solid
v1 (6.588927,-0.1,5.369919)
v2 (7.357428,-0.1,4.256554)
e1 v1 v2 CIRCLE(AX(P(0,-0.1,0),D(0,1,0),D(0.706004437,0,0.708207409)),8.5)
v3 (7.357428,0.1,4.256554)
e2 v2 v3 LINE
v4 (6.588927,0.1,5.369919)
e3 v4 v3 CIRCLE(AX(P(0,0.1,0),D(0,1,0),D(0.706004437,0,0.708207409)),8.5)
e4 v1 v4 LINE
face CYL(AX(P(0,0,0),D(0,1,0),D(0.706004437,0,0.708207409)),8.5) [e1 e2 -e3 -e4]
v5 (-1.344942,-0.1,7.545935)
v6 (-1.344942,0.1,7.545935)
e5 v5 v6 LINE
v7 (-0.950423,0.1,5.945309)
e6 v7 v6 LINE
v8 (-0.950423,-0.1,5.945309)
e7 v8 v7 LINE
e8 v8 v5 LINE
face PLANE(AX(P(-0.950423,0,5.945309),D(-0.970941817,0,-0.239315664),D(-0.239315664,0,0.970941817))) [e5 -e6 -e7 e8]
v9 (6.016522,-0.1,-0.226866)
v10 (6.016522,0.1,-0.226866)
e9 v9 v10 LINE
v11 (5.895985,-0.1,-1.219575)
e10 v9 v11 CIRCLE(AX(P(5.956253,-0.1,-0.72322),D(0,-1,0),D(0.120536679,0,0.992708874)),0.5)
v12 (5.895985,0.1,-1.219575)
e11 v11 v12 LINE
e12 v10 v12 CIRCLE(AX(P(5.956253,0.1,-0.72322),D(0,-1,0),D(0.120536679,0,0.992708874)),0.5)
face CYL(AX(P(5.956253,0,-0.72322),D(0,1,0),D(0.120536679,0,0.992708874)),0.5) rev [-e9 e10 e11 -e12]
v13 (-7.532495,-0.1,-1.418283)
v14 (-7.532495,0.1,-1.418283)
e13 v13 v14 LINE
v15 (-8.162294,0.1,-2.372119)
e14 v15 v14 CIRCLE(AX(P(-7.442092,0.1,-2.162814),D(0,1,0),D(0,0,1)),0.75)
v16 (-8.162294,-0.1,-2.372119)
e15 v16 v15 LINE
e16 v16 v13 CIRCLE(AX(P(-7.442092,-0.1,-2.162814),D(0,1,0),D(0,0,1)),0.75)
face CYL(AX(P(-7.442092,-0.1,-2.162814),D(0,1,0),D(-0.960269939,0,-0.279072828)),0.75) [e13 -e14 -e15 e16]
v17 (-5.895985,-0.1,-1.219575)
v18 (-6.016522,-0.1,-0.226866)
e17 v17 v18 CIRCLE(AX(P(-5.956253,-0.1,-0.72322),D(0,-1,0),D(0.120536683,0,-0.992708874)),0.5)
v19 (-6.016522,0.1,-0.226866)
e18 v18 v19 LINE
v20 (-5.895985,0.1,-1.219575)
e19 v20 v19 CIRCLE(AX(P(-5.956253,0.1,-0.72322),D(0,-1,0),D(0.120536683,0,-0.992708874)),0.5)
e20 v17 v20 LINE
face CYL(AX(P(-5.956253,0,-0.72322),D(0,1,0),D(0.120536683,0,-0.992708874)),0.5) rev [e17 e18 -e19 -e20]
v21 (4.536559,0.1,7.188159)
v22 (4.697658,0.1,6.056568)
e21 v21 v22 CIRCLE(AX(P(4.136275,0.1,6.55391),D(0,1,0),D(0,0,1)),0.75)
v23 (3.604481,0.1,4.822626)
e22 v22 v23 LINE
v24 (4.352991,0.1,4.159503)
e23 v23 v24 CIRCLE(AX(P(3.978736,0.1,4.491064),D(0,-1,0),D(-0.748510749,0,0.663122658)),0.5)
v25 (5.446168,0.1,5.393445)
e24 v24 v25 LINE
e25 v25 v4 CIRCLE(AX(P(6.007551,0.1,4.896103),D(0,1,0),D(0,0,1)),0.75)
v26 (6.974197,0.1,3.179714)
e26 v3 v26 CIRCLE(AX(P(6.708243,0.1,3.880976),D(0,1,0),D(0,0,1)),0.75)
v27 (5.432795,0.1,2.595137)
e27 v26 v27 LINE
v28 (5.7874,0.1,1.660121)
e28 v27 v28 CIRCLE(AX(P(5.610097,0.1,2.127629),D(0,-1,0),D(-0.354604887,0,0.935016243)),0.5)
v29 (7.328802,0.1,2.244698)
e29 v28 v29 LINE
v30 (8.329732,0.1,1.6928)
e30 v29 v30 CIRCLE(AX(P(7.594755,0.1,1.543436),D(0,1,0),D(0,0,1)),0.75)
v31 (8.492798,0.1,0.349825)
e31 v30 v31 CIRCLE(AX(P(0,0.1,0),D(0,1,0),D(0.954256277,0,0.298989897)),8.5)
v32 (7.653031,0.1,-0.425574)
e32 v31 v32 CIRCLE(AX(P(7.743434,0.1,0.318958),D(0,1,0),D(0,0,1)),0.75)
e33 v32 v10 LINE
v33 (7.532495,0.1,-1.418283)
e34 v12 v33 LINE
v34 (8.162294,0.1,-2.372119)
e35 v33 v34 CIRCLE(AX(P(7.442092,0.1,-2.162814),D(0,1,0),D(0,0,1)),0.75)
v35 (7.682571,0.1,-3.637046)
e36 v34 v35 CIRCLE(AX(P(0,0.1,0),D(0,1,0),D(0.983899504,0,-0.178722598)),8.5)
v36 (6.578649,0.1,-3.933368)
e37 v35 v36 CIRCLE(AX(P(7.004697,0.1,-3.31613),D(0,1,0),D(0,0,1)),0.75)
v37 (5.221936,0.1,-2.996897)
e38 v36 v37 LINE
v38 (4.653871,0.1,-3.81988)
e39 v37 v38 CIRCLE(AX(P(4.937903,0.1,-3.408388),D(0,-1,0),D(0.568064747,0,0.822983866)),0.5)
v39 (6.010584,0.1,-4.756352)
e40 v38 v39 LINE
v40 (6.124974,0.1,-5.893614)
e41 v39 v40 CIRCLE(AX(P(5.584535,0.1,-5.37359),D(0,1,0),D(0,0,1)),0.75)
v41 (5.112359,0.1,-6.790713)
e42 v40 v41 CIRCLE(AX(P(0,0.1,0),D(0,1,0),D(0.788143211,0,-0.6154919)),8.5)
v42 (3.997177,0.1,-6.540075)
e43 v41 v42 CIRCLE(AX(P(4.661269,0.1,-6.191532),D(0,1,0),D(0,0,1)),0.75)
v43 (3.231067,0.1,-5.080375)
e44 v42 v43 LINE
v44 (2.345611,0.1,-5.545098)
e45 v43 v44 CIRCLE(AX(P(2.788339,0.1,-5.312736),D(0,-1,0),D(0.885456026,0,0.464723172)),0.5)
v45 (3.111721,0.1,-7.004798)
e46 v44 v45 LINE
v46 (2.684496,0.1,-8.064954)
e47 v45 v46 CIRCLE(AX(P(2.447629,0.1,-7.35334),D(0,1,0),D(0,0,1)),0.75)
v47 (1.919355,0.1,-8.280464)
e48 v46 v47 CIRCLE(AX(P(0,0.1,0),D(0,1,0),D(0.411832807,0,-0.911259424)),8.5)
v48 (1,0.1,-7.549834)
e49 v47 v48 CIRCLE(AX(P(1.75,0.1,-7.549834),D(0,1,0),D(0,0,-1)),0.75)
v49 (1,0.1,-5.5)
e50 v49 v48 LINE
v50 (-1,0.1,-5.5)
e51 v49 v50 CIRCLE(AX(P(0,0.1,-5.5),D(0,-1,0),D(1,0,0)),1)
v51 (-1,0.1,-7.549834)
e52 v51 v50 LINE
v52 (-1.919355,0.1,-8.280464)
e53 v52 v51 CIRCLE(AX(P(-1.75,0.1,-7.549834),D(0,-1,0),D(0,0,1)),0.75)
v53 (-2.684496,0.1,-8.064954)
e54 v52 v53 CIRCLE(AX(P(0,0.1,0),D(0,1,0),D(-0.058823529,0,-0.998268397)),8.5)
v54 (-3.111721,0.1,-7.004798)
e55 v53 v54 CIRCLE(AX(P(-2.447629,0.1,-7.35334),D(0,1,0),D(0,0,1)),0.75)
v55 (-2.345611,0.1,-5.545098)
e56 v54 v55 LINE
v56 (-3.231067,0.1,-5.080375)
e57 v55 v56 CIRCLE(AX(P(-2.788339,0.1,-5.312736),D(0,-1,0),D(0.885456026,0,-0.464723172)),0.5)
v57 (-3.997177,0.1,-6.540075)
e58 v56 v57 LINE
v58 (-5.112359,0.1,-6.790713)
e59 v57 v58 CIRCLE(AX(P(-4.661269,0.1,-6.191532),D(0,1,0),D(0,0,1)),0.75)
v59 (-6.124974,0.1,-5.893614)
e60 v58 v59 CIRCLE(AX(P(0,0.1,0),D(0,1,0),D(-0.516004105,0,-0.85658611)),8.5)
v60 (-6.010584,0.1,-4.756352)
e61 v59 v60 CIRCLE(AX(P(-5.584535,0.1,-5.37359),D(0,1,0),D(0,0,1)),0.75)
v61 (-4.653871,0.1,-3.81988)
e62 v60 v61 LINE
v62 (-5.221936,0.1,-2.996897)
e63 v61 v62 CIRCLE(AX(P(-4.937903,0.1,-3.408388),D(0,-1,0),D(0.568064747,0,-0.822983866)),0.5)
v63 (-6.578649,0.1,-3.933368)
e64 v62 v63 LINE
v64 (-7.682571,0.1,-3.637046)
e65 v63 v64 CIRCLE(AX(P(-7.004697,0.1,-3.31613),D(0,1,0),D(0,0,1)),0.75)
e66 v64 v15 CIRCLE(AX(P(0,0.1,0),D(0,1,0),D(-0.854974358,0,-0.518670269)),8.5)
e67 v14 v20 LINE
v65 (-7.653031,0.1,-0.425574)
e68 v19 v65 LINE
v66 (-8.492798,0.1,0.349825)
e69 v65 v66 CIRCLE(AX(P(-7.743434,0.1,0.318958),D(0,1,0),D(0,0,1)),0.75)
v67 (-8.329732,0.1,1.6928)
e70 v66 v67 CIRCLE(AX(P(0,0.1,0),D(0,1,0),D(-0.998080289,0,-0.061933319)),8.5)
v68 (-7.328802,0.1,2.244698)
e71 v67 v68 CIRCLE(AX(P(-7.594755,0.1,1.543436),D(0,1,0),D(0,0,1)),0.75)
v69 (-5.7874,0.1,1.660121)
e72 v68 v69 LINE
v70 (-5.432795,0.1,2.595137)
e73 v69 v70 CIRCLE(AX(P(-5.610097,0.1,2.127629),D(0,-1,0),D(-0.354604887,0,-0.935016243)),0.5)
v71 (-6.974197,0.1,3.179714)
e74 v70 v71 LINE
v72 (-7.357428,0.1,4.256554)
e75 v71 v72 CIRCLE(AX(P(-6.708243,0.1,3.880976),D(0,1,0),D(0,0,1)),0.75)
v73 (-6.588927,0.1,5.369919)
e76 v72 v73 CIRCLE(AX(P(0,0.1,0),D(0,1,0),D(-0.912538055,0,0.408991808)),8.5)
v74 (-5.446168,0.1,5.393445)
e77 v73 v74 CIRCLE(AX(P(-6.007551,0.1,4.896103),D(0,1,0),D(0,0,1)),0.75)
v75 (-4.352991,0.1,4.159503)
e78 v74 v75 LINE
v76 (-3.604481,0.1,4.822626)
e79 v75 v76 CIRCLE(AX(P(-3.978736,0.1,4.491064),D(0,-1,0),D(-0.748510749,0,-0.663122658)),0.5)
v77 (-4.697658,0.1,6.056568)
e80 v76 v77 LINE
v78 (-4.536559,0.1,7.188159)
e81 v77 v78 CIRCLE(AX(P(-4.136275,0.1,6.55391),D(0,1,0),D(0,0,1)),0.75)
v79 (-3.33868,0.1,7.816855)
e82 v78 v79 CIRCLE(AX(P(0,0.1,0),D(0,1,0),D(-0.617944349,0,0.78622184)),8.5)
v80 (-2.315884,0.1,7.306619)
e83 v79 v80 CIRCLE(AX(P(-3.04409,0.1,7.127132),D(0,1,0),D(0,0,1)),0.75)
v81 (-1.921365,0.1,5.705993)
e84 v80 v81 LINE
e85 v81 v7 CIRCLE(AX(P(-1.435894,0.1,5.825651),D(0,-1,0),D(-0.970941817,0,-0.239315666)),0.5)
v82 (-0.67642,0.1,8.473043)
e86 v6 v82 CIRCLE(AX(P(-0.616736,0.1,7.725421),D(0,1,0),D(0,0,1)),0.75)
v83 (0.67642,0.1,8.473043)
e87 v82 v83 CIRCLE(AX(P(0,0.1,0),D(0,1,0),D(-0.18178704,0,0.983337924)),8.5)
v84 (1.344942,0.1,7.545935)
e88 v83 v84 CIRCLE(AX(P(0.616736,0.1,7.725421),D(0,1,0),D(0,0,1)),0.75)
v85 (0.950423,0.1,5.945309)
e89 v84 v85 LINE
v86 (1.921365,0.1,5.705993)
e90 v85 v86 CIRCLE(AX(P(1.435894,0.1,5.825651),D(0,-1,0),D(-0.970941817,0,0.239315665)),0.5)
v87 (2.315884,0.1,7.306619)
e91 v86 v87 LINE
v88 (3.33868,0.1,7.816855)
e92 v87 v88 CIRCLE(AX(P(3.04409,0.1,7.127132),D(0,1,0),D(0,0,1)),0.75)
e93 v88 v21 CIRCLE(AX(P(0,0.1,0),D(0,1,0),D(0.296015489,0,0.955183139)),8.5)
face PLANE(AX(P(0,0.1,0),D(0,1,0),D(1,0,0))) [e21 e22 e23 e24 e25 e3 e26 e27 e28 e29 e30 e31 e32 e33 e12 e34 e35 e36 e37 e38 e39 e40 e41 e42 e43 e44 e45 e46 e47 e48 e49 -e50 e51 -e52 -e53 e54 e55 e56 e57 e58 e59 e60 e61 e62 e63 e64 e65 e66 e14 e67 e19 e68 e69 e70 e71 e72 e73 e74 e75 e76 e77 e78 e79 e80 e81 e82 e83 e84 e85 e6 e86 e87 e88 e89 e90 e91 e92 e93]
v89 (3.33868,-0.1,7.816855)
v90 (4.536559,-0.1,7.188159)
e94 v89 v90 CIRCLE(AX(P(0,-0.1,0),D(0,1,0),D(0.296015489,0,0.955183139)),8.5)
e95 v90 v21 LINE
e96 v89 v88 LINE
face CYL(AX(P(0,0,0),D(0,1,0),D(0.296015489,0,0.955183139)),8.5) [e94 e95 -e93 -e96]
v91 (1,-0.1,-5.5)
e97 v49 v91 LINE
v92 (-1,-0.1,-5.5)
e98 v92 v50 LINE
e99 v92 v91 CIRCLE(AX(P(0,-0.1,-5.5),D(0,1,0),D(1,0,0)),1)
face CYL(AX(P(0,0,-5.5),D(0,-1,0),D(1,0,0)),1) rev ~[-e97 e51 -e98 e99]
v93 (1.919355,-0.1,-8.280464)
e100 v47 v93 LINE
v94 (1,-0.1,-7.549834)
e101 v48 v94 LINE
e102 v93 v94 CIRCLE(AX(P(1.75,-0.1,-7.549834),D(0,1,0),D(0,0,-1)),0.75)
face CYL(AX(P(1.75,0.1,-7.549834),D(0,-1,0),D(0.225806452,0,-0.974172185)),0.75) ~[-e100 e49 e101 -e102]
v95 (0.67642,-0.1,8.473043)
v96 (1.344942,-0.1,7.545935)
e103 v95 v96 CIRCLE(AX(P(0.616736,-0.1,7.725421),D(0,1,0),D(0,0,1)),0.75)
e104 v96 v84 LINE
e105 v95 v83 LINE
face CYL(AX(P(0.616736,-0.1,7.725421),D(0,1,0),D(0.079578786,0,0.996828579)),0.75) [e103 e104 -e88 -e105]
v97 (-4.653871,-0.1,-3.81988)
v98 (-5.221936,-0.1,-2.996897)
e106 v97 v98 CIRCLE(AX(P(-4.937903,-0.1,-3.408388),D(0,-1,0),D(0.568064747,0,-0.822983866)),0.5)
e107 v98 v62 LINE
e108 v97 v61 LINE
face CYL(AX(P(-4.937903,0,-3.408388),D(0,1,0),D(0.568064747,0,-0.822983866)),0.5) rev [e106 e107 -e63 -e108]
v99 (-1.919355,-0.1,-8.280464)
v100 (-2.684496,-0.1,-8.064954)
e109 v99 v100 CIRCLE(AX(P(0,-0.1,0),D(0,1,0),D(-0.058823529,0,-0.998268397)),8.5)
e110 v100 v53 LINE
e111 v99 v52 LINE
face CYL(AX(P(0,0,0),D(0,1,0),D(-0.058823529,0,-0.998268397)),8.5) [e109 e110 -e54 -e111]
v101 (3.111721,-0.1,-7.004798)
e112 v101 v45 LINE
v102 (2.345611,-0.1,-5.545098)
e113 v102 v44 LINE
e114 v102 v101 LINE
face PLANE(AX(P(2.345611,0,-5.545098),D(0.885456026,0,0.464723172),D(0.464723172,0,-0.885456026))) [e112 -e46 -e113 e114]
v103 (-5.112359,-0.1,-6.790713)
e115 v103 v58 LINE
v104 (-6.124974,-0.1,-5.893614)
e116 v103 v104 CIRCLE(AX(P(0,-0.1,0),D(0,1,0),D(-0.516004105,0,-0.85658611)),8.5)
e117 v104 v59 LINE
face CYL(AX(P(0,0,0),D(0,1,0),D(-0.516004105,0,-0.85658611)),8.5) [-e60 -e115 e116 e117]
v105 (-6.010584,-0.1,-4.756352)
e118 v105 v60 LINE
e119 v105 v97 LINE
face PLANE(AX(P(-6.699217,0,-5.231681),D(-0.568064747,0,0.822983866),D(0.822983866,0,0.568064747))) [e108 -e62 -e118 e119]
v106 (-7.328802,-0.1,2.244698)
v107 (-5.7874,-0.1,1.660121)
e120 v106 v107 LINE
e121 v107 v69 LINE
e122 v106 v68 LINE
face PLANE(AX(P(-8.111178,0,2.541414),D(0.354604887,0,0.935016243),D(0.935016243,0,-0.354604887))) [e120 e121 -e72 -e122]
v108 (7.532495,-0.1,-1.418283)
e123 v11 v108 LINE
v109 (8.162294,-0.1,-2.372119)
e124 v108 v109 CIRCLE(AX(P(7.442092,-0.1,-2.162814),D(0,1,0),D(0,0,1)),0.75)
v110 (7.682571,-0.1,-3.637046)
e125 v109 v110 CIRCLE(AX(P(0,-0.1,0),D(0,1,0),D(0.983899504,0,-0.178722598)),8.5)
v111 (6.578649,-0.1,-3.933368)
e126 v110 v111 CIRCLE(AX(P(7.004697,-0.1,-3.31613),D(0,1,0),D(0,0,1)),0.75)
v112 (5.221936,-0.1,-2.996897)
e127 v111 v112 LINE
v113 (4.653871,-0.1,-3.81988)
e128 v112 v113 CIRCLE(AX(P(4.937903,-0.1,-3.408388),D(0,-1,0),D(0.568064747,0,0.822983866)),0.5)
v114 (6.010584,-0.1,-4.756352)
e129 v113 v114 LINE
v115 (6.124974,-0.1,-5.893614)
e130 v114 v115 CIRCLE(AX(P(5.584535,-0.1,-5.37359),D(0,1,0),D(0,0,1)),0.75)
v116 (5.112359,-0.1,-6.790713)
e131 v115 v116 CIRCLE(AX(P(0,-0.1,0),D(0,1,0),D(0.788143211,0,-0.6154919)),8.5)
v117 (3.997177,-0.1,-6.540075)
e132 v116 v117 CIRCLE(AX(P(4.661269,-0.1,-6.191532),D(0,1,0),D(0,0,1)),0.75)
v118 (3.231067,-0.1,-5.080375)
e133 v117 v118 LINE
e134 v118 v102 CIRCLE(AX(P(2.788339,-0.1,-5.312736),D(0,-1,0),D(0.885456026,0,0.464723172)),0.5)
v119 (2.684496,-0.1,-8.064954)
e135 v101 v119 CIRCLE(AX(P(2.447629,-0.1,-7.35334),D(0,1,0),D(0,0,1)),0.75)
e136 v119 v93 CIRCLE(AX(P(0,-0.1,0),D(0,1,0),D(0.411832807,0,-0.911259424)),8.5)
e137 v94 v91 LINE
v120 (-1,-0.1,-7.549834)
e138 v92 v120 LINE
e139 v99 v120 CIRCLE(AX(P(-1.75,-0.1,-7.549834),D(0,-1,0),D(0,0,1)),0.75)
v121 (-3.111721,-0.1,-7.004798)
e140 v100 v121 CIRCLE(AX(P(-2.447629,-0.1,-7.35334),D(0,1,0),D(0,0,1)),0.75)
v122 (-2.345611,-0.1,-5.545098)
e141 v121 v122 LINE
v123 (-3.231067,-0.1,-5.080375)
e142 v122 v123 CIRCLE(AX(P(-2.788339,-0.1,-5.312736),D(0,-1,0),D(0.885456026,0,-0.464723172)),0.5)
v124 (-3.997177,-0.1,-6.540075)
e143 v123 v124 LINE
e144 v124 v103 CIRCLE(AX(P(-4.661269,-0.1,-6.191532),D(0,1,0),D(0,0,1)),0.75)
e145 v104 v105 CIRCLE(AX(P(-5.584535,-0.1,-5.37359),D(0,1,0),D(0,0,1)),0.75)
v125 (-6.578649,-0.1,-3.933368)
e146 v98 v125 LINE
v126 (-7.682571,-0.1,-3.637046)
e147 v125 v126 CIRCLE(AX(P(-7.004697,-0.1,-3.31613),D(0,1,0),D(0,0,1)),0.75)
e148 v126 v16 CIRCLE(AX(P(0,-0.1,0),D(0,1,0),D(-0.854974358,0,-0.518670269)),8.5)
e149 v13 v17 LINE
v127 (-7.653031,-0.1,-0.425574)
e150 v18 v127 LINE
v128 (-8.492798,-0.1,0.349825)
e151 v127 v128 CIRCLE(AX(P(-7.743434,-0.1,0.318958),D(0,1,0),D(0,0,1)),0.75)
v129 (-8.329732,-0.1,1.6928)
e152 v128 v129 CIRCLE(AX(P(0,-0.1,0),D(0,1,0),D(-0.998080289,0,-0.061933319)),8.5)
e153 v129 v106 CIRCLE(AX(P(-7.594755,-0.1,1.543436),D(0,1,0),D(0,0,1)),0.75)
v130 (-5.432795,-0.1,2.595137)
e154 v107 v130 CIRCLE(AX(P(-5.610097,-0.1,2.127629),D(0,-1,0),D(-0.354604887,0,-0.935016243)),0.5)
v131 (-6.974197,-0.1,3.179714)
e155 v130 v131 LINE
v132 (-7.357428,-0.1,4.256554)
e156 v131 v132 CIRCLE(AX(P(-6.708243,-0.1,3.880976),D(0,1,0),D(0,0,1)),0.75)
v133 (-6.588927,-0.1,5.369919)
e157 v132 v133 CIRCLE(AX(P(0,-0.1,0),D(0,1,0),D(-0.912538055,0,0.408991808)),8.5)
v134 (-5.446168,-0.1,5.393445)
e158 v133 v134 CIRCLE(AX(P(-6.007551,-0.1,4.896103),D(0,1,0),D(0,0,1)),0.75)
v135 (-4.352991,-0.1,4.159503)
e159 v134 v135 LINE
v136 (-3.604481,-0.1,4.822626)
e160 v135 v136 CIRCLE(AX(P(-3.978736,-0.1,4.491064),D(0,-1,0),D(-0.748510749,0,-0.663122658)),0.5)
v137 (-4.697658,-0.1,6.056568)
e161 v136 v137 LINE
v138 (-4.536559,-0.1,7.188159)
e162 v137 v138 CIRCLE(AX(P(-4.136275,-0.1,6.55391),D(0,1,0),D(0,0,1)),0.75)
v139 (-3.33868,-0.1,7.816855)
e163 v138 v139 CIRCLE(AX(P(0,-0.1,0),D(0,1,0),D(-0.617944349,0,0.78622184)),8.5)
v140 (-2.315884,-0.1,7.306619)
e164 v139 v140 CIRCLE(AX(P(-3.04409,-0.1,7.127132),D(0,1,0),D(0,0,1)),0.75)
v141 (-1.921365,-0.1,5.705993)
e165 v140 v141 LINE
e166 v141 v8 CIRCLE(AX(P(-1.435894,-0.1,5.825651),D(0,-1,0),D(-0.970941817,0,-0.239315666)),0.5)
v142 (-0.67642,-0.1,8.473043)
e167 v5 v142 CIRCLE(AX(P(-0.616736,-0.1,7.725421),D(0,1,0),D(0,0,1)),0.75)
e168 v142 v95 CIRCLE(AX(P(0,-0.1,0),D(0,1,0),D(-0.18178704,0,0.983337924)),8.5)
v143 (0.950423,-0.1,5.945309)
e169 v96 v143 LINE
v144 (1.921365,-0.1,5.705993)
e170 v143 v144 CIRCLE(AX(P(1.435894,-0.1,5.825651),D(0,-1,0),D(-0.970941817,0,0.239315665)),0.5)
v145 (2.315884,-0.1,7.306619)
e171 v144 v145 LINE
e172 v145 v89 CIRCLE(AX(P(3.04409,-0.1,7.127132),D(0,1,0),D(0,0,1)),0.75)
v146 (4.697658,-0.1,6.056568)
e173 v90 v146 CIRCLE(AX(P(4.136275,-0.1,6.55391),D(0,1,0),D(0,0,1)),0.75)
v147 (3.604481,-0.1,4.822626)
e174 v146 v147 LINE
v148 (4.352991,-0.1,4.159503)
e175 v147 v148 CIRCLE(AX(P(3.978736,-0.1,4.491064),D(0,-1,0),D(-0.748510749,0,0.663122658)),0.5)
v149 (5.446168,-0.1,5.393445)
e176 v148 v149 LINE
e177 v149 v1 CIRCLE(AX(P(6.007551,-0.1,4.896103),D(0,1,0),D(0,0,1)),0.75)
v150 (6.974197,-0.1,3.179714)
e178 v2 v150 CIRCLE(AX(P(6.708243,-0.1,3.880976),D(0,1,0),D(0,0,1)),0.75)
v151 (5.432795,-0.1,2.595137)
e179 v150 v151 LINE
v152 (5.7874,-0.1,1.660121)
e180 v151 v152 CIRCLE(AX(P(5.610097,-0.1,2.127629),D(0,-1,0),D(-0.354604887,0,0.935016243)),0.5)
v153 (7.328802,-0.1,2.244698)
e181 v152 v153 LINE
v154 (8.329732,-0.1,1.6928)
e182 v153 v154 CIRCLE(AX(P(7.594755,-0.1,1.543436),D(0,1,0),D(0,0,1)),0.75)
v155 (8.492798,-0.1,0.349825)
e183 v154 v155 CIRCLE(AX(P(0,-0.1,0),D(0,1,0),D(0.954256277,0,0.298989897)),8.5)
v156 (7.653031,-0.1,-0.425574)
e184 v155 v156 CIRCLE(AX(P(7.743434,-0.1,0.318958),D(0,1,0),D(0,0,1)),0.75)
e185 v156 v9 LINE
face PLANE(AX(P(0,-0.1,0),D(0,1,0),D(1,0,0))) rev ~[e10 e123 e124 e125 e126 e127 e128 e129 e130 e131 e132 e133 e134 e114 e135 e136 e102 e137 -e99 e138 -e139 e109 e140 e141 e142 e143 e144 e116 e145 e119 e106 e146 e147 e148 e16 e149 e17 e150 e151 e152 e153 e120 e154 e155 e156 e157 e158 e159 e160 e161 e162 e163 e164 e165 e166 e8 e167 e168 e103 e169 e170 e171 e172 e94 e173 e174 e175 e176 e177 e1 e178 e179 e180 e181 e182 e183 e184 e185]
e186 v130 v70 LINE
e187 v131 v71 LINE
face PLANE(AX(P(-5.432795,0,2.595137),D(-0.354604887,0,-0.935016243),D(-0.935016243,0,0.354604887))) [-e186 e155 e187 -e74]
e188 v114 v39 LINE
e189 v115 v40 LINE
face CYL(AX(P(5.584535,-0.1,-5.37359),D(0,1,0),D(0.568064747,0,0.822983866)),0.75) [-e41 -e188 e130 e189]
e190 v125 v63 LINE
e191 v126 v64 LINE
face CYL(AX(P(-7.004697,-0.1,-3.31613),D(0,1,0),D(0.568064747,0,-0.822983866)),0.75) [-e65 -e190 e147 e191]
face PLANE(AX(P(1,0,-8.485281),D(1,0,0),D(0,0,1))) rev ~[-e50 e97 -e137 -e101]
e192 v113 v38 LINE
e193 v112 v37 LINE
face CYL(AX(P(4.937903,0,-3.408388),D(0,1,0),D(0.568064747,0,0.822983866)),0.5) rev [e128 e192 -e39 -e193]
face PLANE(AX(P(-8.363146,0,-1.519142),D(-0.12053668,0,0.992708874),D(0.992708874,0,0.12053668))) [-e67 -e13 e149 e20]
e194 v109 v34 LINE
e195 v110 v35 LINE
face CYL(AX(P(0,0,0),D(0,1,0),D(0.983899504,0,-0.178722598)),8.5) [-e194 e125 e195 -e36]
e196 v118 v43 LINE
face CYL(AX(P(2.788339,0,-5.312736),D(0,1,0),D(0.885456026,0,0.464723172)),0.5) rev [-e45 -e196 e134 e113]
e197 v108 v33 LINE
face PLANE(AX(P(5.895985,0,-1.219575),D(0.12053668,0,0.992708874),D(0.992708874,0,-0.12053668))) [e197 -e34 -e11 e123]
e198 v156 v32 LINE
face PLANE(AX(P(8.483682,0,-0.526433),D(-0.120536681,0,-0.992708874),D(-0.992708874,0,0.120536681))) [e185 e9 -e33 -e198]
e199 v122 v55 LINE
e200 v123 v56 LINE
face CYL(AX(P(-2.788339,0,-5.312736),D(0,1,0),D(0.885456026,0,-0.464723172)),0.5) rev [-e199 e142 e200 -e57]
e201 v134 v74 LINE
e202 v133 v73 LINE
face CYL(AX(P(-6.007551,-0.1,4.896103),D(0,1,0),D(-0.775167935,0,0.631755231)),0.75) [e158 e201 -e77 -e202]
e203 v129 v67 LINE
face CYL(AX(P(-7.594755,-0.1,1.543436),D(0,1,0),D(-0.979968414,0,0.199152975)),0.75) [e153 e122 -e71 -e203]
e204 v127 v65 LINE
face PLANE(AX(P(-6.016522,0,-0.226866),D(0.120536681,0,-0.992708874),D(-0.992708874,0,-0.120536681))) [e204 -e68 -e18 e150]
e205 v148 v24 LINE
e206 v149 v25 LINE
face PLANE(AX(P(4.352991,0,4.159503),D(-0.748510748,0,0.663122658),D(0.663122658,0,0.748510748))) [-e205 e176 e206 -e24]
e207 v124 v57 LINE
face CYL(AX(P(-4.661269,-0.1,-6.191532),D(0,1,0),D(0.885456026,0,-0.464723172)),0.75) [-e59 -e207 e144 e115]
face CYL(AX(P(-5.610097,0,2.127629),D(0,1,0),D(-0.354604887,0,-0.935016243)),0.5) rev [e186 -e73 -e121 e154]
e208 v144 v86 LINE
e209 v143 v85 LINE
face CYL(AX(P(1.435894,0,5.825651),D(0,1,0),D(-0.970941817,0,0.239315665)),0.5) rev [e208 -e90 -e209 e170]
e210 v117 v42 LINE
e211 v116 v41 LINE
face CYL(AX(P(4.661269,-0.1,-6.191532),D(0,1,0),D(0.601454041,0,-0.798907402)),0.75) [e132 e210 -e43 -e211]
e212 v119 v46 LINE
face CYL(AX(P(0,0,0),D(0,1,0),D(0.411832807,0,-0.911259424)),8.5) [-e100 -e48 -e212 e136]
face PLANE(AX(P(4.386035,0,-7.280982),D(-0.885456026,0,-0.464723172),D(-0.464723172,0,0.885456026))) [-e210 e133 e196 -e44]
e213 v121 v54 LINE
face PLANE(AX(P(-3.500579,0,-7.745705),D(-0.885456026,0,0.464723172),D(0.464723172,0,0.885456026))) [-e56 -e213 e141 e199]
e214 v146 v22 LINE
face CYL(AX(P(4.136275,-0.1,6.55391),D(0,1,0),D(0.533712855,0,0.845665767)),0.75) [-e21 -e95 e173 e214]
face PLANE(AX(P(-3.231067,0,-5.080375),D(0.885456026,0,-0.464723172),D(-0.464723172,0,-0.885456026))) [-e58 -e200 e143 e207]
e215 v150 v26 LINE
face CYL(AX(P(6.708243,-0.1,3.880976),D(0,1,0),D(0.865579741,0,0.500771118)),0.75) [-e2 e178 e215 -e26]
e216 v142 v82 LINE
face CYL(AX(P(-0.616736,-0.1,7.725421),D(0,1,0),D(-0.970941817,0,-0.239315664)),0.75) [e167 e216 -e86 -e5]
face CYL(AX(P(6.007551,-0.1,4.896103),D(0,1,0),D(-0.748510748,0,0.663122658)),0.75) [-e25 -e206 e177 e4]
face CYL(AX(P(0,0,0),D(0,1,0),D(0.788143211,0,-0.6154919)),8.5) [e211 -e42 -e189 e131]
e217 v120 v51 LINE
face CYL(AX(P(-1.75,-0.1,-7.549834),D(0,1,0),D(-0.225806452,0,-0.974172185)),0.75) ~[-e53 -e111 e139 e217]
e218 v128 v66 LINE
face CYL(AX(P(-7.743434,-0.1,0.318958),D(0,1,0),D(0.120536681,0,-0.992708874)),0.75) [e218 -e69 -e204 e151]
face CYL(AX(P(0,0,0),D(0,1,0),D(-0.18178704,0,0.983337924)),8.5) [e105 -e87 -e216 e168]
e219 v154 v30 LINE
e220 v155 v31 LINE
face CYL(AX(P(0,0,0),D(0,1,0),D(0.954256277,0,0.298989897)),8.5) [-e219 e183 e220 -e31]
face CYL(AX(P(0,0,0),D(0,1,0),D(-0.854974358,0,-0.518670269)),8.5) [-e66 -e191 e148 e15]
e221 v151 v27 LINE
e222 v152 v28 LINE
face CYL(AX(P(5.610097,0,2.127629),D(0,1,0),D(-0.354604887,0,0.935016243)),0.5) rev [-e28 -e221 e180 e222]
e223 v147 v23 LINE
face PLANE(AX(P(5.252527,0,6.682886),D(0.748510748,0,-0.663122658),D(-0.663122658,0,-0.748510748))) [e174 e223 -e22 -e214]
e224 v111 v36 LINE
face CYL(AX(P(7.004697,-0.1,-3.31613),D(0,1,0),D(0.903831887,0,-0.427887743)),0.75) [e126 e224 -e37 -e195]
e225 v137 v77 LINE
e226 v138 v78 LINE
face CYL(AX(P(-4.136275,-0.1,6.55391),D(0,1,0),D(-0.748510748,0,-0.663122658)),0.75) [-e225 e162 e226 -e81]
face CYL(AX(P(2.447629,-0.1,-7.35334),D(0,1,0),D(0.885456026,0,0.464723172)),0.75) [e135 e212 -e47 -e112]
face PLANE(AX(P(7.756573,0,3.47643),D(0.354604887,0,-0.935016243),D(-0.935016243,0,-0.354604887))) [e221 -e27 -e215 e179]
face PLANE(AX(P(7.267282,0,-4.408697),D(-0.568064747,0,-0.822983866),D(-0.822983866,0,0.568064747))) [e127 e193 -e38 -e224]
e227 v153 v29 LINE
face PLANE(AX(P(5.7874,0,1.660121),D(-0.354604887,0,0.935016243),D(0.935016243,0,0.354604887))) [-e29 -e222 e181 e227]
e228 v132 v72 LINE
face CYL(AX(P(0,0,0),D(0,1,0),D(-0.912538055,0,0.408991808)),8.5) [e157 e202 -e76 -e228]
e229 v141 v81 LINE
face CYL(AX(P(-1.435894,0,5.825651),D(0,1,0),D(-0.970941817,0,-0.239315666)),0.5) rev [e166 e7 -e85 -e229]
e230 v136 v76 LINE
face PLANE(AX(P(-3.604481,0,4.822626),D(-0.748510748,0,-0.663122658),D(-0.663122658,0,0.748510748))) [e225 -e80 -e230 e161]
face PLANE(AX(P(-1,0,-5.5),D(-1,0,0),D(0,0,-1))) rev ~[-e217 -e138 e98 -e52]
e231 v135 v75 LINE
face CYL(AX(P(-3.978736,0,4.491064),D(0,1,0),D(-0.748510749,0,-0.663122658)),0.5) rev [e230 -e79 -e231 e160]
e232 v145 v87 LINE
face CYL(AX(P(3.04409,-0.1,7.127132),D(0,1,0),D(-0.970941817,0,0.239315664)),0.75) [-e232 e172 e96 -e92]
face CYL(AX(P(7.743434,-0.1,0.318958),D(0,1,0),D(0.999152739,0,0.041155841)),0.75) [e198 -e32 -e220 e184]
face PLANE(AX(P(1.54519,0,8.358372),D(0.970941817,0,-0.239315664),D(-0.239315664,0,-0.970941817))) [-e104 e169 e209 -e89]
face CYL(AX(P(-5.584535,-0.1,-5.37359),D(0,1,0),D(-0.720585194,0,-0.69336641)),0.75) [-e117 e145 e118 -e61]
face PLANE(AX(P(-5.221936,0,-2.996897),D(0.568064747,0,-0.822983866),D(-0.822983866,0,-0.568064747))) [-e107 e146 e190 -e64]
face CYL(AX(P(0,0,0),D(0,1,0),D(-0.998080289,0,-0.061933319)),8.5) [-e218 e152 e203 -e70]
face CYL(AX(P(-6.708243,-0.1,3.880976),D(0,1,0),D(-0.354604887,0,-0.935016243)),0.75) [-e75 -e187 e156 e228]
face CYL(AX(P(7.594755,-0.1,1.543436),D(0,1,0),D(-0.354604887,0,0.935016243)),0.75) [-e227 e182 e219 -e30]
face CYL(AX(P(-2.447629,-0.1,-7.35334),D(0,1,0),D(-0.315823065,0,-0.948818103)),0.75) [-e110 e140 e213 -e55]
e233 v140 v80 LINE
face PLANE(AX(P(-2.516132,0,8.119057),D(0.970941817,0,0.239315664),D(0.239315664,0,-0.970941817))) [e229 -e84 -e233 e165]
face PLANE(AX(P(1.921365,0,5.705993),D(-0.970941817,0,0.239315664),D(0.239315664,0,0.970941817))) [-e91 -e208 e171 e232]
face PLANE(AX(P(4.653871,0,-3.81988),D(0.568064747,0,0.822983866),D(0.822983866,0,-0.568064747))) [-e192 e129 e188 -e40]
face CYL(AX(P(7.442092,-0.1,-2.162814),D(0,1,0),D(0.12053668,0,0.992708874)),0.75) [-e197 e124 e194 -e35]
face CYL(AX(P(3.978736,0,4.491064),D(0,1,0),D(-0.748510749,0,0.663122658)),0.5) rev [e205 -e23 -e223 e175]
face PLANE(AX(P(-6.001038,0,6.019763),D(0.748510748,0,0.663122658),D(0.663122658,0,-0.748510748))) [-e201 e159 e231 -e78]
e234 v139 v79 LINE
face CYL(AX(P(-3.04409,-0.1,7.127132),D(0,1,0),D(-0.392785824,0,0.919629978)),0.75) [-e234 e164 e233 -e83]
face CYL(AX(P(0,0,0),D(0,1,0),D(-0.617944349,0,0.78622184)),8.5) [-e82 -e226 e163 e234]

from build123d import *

# Parameters (mm, degrees)
BOSS_EXTRUDE1_DEPTH     = 0.1
CUT_EXTRUDE1_DEPTH      = 1.1
CUT_EXTRUDE1_DEPTH_BACK = 1.1
FILLET1_R               = 0.75


with BuildPart() as part:
    # Sketch1 → Boss-Extrude1 (new body, symmetric)
    with BuildSketch(Plane(origin=(0, 0, 0), x_dir=(1, 0, 0), z_dir=(0, 1, 0))):
        with BuildLine():
            Line((-0.5, 6), (-0.5, 8.485281374))
            ThreePointArc((-0.5, 8.485281374), (-2.034183146, 8.253005448), (-3.500578863, 7.745705108))
            Line((-3.500578863, 7.745705108), (-2.345611019, 5.54509774))
            ThreePointArc((-2.345611019, 5.54509774), (-2.555977446, 4.870008141), (-3.231067045, 5.080374568))
            Line((-3.231067045, 5.080374568), (-4.386034889, 7.280981936))
            ThreePointArc((-4.386034889, 7.280981936), (-5.636542595, 6.362341359), (-6.699217295, 5.231681148))
            Line((-6.699217295, 5.231681148), (-4.653870822, 3.819880413))
            ThreePointArc((-4.653870822, 3.819880413), (-4.526411262, 3.124356107), (-5.221935569, 2.996896547))
            Line((-5.221935569, 2.996896547), (-7.267282042, 4.408697282))
            ThreePointArc((-7.267282042, 4.408697282), (-7.947638063, 3.01414154), (-8.363145779, 1.519142085))
            Line((-8.363145779, 1.519142085), (-5.895984904, 1.219574519))
            ThreePointArc((-5.895984904, 1.219574519), (-5.459898808, 0.662951741), (-6.016521585, 0.226865644))
            Line((-6.016521585, 0.226865644), (-8.48368246, 0.526433211))
            ThreePointArc((-8.48368246, 0.526433211), (-8.43802543, -1.024561782), (-8.111178352, -2.541414122))
            Line((-8.111178352, -2.541414122), (-5.7873999, -1.660121201))
            ThreePointArc((-5.7873999, -1.660121201), (-5.142589335, -1.950326879), (-5.432795013, -2.595137444))
            Line((-5.432795013, -2.595137444), (-7.756573465, -3.476430365))
            ThreePointArc((-7.756573465, -3.476430365), (-6.99536286, -4.828550347), (-6.001037715, -6.019762981))
            Line((-6.001037715, -6.019762981), (-4.352991324, -4.15950316))
            ThreePointArc((-4.352991324, -4.15950316), (-3.64717462, -4.116809115), (-3.604480575, -4.822625818))
            Line((-3.604480575, -4.822625818), (-5.252526967, -6.682885639))
            ThreePointArc((-5.252526967, -6.682885639), (-3.950146962, -7.526376218), (-2.516131657, -8.119056687))
            Line((-2.516131657, -8.119056687), (-1.921364894, -5.705993072))
            ThreePointArc((-1.921364894, -5.705993072), (-1.316236154, -5.340179996), (-0.950423077, -5.945308737))
            Line((-0.950423077, -5.945308737), (-1.54518984, -8.358372351))
            ThreePointArc((-1.54518984, -8.358372351), (0, -8.5), (1.54518984, -8.358372351))
            Line((1.54518984, -8.358372351), (0.950423077, -5.945308737))
            ThreePointArc((0.950423077, -5.945308737), (1.316236154, -5.340179996), (1.921364894, -5.705993072))
            Line((1.921364894, -5.705993072), (2.516131657, -8.119056687))
            ThreePointArc((2.516131657, -8.119056687), (3.950146962, -7.526376218), (5.252526967, -6.682885639))
            Line((5.252526967, -6.682885639), (3.604480575, -4.822625818))
            ThreePointArc((3.604480575, -4.822625818), (3.64717462, -4.116809115), (4.352991324, -4.15950316))
            Line((4.352991324, -4.15950316), (6.001037715, -6.019762981))
            ThreePointArc((6.001037715, -6.019762981), (6.99536286, -4.828550347), (7.756573465, -3.476430365))
            Line((7.756573465, -3.476430365), (5.432795013, -2.595137444))
            ThreePointArc((5.432795013, -2.595137444), (5.142589335, -1.950326879), (5.7873999, -1.660121201))
            Line((5.7873999, -1.660121201), (8.111178352, -2.541414122))
            ThreePointArc((8.111178352, -2.541414122), (8.43802543, -1.024561782), (8.48368246, 0.526433211))
            Line((8.48368246, 0.526433211), (6.016521585, 0.226865644))
            ThreePointArc((6.016521585, 0.226865644), (5.459898808, 0.662951741), (5.895984904, 1.219574519))
            Line((5.895984904, 1.219574519), (8.363145779, 1.519142085))
            ThreePointArc((8.363145779, 1.519142085), (7.947638063, 3.01414154), (7.267282042, 4.408697282))
            Line((7.267282042, 4.408697282), (5.221935569, 2.996896547))
            ThreePointArc((5.221935569, 2.996896547), (4.526411262, 3.124356107), (4.653870822, 3.819880413))
            Line((4.653870822, 3.819880413), (6.699217295, 5.231681148))
            ThreePointArc((6.699217295, 5.231681148), (5.636542595, 6.362341359), (4.386034889, 7.280981936))
            Line((4.386034889, 7.280981936), (3.231067045, 5.080374568))
            ThreePointArc((3.231067045, 5.080374568), (2.555977446, 4.870008141), (2.345611019, 5.54509774))
            Line((2.345611019, 5.54509774), (3.500578863, 7.745705108))
            ThreePointArc((3.500578863, 7.745705108), (2.034183146, 8.253005448), (0.5, 8.485281374))
            Line((0.5, 8.485281374), (0.5, 6))
            ThreePointArc((0.5, 6), (0, 5.5), (-0.5, 6))
        make_face()
    extrude(amount=BOSS_EXTRUDE1_DEPTH, both=True)

    # Sketch2 → Cut-Extrude1 (cut, two sides)
    with BuildSketch(Plane(origin=(0, 0, 0), x_dir=(1, 0, 0), z_dir=(0, 1, 0))) as cut_extrude1_sk:
        with BuildLine():
            Line((-1, 5.5), (-1, 8.485281374))
            Line((-1, 8.485281374), (1, 8.485281374))
            Line((1, 8.485281374), (1, 5.5))
            ThreePointArc((1, 5.5), (0, 4.5), (-1, 5.5))
        make_face()
    extrude(amount=CUT_EXTRUDE1_DEPTH, mode=Mode.SUBTRACT)
    extrude(cut_extrude1_sk.sketch, amount=-CUT_EXTRUDE1_DEPTH_BACK, mode=Mode.SUBTRACT)

    # Fillet1
    fillet1_edges = [part.edges().sort_by_distance(p)[0] for p in [
        (-1, 0, -8.440971508),
        (1, 0, -8.440971508),
        (3.500578863, 0, -7.745705108),
        (4.386034889, 0, -7.280981936),
        (6.699217295, 0, -5.231681148),
        (7.267282042, 0, -4.408697282),
        (8.363145779, 0, -1.519142085),
        (8.48368246, 0, -0.526433211),
        (8.111178352, 0, 2.541414122),
        (7.756573465, 0, 3.476430365),
        (6.001037715, 0, 6.019762981),
        (5.252526967, 0, 6.682885639),
        (2.516131657, 0, 8.119056687),
        (1.54518984, 0, 8.358372351),
        (-1.54518984, 0, 8.358372351),
        (-2.516131657, 0, 8.119056687),
        (-5.252526967, 0, 6.682885639),
        (-6.001037715, 0, 6.019762981),
        (-7.756573465, 0, 3.476430365),
        (-8.111178352, 0, 2.541414122),
        (-8.48368246, 0, -0.526433211),
        (-8.363145779, 0, -1.519142085),
        (-7.267282042, 0, -4.408697282),
        (-6.699217295, 0, -5.231681148),
        (-4.386034889, 0, -7.280981936),
        (-3.500578863, 0, -7.745705108),
    ]]
    fillet(fillet1_edges, radius=FILLET1_R)


solid = part.part
